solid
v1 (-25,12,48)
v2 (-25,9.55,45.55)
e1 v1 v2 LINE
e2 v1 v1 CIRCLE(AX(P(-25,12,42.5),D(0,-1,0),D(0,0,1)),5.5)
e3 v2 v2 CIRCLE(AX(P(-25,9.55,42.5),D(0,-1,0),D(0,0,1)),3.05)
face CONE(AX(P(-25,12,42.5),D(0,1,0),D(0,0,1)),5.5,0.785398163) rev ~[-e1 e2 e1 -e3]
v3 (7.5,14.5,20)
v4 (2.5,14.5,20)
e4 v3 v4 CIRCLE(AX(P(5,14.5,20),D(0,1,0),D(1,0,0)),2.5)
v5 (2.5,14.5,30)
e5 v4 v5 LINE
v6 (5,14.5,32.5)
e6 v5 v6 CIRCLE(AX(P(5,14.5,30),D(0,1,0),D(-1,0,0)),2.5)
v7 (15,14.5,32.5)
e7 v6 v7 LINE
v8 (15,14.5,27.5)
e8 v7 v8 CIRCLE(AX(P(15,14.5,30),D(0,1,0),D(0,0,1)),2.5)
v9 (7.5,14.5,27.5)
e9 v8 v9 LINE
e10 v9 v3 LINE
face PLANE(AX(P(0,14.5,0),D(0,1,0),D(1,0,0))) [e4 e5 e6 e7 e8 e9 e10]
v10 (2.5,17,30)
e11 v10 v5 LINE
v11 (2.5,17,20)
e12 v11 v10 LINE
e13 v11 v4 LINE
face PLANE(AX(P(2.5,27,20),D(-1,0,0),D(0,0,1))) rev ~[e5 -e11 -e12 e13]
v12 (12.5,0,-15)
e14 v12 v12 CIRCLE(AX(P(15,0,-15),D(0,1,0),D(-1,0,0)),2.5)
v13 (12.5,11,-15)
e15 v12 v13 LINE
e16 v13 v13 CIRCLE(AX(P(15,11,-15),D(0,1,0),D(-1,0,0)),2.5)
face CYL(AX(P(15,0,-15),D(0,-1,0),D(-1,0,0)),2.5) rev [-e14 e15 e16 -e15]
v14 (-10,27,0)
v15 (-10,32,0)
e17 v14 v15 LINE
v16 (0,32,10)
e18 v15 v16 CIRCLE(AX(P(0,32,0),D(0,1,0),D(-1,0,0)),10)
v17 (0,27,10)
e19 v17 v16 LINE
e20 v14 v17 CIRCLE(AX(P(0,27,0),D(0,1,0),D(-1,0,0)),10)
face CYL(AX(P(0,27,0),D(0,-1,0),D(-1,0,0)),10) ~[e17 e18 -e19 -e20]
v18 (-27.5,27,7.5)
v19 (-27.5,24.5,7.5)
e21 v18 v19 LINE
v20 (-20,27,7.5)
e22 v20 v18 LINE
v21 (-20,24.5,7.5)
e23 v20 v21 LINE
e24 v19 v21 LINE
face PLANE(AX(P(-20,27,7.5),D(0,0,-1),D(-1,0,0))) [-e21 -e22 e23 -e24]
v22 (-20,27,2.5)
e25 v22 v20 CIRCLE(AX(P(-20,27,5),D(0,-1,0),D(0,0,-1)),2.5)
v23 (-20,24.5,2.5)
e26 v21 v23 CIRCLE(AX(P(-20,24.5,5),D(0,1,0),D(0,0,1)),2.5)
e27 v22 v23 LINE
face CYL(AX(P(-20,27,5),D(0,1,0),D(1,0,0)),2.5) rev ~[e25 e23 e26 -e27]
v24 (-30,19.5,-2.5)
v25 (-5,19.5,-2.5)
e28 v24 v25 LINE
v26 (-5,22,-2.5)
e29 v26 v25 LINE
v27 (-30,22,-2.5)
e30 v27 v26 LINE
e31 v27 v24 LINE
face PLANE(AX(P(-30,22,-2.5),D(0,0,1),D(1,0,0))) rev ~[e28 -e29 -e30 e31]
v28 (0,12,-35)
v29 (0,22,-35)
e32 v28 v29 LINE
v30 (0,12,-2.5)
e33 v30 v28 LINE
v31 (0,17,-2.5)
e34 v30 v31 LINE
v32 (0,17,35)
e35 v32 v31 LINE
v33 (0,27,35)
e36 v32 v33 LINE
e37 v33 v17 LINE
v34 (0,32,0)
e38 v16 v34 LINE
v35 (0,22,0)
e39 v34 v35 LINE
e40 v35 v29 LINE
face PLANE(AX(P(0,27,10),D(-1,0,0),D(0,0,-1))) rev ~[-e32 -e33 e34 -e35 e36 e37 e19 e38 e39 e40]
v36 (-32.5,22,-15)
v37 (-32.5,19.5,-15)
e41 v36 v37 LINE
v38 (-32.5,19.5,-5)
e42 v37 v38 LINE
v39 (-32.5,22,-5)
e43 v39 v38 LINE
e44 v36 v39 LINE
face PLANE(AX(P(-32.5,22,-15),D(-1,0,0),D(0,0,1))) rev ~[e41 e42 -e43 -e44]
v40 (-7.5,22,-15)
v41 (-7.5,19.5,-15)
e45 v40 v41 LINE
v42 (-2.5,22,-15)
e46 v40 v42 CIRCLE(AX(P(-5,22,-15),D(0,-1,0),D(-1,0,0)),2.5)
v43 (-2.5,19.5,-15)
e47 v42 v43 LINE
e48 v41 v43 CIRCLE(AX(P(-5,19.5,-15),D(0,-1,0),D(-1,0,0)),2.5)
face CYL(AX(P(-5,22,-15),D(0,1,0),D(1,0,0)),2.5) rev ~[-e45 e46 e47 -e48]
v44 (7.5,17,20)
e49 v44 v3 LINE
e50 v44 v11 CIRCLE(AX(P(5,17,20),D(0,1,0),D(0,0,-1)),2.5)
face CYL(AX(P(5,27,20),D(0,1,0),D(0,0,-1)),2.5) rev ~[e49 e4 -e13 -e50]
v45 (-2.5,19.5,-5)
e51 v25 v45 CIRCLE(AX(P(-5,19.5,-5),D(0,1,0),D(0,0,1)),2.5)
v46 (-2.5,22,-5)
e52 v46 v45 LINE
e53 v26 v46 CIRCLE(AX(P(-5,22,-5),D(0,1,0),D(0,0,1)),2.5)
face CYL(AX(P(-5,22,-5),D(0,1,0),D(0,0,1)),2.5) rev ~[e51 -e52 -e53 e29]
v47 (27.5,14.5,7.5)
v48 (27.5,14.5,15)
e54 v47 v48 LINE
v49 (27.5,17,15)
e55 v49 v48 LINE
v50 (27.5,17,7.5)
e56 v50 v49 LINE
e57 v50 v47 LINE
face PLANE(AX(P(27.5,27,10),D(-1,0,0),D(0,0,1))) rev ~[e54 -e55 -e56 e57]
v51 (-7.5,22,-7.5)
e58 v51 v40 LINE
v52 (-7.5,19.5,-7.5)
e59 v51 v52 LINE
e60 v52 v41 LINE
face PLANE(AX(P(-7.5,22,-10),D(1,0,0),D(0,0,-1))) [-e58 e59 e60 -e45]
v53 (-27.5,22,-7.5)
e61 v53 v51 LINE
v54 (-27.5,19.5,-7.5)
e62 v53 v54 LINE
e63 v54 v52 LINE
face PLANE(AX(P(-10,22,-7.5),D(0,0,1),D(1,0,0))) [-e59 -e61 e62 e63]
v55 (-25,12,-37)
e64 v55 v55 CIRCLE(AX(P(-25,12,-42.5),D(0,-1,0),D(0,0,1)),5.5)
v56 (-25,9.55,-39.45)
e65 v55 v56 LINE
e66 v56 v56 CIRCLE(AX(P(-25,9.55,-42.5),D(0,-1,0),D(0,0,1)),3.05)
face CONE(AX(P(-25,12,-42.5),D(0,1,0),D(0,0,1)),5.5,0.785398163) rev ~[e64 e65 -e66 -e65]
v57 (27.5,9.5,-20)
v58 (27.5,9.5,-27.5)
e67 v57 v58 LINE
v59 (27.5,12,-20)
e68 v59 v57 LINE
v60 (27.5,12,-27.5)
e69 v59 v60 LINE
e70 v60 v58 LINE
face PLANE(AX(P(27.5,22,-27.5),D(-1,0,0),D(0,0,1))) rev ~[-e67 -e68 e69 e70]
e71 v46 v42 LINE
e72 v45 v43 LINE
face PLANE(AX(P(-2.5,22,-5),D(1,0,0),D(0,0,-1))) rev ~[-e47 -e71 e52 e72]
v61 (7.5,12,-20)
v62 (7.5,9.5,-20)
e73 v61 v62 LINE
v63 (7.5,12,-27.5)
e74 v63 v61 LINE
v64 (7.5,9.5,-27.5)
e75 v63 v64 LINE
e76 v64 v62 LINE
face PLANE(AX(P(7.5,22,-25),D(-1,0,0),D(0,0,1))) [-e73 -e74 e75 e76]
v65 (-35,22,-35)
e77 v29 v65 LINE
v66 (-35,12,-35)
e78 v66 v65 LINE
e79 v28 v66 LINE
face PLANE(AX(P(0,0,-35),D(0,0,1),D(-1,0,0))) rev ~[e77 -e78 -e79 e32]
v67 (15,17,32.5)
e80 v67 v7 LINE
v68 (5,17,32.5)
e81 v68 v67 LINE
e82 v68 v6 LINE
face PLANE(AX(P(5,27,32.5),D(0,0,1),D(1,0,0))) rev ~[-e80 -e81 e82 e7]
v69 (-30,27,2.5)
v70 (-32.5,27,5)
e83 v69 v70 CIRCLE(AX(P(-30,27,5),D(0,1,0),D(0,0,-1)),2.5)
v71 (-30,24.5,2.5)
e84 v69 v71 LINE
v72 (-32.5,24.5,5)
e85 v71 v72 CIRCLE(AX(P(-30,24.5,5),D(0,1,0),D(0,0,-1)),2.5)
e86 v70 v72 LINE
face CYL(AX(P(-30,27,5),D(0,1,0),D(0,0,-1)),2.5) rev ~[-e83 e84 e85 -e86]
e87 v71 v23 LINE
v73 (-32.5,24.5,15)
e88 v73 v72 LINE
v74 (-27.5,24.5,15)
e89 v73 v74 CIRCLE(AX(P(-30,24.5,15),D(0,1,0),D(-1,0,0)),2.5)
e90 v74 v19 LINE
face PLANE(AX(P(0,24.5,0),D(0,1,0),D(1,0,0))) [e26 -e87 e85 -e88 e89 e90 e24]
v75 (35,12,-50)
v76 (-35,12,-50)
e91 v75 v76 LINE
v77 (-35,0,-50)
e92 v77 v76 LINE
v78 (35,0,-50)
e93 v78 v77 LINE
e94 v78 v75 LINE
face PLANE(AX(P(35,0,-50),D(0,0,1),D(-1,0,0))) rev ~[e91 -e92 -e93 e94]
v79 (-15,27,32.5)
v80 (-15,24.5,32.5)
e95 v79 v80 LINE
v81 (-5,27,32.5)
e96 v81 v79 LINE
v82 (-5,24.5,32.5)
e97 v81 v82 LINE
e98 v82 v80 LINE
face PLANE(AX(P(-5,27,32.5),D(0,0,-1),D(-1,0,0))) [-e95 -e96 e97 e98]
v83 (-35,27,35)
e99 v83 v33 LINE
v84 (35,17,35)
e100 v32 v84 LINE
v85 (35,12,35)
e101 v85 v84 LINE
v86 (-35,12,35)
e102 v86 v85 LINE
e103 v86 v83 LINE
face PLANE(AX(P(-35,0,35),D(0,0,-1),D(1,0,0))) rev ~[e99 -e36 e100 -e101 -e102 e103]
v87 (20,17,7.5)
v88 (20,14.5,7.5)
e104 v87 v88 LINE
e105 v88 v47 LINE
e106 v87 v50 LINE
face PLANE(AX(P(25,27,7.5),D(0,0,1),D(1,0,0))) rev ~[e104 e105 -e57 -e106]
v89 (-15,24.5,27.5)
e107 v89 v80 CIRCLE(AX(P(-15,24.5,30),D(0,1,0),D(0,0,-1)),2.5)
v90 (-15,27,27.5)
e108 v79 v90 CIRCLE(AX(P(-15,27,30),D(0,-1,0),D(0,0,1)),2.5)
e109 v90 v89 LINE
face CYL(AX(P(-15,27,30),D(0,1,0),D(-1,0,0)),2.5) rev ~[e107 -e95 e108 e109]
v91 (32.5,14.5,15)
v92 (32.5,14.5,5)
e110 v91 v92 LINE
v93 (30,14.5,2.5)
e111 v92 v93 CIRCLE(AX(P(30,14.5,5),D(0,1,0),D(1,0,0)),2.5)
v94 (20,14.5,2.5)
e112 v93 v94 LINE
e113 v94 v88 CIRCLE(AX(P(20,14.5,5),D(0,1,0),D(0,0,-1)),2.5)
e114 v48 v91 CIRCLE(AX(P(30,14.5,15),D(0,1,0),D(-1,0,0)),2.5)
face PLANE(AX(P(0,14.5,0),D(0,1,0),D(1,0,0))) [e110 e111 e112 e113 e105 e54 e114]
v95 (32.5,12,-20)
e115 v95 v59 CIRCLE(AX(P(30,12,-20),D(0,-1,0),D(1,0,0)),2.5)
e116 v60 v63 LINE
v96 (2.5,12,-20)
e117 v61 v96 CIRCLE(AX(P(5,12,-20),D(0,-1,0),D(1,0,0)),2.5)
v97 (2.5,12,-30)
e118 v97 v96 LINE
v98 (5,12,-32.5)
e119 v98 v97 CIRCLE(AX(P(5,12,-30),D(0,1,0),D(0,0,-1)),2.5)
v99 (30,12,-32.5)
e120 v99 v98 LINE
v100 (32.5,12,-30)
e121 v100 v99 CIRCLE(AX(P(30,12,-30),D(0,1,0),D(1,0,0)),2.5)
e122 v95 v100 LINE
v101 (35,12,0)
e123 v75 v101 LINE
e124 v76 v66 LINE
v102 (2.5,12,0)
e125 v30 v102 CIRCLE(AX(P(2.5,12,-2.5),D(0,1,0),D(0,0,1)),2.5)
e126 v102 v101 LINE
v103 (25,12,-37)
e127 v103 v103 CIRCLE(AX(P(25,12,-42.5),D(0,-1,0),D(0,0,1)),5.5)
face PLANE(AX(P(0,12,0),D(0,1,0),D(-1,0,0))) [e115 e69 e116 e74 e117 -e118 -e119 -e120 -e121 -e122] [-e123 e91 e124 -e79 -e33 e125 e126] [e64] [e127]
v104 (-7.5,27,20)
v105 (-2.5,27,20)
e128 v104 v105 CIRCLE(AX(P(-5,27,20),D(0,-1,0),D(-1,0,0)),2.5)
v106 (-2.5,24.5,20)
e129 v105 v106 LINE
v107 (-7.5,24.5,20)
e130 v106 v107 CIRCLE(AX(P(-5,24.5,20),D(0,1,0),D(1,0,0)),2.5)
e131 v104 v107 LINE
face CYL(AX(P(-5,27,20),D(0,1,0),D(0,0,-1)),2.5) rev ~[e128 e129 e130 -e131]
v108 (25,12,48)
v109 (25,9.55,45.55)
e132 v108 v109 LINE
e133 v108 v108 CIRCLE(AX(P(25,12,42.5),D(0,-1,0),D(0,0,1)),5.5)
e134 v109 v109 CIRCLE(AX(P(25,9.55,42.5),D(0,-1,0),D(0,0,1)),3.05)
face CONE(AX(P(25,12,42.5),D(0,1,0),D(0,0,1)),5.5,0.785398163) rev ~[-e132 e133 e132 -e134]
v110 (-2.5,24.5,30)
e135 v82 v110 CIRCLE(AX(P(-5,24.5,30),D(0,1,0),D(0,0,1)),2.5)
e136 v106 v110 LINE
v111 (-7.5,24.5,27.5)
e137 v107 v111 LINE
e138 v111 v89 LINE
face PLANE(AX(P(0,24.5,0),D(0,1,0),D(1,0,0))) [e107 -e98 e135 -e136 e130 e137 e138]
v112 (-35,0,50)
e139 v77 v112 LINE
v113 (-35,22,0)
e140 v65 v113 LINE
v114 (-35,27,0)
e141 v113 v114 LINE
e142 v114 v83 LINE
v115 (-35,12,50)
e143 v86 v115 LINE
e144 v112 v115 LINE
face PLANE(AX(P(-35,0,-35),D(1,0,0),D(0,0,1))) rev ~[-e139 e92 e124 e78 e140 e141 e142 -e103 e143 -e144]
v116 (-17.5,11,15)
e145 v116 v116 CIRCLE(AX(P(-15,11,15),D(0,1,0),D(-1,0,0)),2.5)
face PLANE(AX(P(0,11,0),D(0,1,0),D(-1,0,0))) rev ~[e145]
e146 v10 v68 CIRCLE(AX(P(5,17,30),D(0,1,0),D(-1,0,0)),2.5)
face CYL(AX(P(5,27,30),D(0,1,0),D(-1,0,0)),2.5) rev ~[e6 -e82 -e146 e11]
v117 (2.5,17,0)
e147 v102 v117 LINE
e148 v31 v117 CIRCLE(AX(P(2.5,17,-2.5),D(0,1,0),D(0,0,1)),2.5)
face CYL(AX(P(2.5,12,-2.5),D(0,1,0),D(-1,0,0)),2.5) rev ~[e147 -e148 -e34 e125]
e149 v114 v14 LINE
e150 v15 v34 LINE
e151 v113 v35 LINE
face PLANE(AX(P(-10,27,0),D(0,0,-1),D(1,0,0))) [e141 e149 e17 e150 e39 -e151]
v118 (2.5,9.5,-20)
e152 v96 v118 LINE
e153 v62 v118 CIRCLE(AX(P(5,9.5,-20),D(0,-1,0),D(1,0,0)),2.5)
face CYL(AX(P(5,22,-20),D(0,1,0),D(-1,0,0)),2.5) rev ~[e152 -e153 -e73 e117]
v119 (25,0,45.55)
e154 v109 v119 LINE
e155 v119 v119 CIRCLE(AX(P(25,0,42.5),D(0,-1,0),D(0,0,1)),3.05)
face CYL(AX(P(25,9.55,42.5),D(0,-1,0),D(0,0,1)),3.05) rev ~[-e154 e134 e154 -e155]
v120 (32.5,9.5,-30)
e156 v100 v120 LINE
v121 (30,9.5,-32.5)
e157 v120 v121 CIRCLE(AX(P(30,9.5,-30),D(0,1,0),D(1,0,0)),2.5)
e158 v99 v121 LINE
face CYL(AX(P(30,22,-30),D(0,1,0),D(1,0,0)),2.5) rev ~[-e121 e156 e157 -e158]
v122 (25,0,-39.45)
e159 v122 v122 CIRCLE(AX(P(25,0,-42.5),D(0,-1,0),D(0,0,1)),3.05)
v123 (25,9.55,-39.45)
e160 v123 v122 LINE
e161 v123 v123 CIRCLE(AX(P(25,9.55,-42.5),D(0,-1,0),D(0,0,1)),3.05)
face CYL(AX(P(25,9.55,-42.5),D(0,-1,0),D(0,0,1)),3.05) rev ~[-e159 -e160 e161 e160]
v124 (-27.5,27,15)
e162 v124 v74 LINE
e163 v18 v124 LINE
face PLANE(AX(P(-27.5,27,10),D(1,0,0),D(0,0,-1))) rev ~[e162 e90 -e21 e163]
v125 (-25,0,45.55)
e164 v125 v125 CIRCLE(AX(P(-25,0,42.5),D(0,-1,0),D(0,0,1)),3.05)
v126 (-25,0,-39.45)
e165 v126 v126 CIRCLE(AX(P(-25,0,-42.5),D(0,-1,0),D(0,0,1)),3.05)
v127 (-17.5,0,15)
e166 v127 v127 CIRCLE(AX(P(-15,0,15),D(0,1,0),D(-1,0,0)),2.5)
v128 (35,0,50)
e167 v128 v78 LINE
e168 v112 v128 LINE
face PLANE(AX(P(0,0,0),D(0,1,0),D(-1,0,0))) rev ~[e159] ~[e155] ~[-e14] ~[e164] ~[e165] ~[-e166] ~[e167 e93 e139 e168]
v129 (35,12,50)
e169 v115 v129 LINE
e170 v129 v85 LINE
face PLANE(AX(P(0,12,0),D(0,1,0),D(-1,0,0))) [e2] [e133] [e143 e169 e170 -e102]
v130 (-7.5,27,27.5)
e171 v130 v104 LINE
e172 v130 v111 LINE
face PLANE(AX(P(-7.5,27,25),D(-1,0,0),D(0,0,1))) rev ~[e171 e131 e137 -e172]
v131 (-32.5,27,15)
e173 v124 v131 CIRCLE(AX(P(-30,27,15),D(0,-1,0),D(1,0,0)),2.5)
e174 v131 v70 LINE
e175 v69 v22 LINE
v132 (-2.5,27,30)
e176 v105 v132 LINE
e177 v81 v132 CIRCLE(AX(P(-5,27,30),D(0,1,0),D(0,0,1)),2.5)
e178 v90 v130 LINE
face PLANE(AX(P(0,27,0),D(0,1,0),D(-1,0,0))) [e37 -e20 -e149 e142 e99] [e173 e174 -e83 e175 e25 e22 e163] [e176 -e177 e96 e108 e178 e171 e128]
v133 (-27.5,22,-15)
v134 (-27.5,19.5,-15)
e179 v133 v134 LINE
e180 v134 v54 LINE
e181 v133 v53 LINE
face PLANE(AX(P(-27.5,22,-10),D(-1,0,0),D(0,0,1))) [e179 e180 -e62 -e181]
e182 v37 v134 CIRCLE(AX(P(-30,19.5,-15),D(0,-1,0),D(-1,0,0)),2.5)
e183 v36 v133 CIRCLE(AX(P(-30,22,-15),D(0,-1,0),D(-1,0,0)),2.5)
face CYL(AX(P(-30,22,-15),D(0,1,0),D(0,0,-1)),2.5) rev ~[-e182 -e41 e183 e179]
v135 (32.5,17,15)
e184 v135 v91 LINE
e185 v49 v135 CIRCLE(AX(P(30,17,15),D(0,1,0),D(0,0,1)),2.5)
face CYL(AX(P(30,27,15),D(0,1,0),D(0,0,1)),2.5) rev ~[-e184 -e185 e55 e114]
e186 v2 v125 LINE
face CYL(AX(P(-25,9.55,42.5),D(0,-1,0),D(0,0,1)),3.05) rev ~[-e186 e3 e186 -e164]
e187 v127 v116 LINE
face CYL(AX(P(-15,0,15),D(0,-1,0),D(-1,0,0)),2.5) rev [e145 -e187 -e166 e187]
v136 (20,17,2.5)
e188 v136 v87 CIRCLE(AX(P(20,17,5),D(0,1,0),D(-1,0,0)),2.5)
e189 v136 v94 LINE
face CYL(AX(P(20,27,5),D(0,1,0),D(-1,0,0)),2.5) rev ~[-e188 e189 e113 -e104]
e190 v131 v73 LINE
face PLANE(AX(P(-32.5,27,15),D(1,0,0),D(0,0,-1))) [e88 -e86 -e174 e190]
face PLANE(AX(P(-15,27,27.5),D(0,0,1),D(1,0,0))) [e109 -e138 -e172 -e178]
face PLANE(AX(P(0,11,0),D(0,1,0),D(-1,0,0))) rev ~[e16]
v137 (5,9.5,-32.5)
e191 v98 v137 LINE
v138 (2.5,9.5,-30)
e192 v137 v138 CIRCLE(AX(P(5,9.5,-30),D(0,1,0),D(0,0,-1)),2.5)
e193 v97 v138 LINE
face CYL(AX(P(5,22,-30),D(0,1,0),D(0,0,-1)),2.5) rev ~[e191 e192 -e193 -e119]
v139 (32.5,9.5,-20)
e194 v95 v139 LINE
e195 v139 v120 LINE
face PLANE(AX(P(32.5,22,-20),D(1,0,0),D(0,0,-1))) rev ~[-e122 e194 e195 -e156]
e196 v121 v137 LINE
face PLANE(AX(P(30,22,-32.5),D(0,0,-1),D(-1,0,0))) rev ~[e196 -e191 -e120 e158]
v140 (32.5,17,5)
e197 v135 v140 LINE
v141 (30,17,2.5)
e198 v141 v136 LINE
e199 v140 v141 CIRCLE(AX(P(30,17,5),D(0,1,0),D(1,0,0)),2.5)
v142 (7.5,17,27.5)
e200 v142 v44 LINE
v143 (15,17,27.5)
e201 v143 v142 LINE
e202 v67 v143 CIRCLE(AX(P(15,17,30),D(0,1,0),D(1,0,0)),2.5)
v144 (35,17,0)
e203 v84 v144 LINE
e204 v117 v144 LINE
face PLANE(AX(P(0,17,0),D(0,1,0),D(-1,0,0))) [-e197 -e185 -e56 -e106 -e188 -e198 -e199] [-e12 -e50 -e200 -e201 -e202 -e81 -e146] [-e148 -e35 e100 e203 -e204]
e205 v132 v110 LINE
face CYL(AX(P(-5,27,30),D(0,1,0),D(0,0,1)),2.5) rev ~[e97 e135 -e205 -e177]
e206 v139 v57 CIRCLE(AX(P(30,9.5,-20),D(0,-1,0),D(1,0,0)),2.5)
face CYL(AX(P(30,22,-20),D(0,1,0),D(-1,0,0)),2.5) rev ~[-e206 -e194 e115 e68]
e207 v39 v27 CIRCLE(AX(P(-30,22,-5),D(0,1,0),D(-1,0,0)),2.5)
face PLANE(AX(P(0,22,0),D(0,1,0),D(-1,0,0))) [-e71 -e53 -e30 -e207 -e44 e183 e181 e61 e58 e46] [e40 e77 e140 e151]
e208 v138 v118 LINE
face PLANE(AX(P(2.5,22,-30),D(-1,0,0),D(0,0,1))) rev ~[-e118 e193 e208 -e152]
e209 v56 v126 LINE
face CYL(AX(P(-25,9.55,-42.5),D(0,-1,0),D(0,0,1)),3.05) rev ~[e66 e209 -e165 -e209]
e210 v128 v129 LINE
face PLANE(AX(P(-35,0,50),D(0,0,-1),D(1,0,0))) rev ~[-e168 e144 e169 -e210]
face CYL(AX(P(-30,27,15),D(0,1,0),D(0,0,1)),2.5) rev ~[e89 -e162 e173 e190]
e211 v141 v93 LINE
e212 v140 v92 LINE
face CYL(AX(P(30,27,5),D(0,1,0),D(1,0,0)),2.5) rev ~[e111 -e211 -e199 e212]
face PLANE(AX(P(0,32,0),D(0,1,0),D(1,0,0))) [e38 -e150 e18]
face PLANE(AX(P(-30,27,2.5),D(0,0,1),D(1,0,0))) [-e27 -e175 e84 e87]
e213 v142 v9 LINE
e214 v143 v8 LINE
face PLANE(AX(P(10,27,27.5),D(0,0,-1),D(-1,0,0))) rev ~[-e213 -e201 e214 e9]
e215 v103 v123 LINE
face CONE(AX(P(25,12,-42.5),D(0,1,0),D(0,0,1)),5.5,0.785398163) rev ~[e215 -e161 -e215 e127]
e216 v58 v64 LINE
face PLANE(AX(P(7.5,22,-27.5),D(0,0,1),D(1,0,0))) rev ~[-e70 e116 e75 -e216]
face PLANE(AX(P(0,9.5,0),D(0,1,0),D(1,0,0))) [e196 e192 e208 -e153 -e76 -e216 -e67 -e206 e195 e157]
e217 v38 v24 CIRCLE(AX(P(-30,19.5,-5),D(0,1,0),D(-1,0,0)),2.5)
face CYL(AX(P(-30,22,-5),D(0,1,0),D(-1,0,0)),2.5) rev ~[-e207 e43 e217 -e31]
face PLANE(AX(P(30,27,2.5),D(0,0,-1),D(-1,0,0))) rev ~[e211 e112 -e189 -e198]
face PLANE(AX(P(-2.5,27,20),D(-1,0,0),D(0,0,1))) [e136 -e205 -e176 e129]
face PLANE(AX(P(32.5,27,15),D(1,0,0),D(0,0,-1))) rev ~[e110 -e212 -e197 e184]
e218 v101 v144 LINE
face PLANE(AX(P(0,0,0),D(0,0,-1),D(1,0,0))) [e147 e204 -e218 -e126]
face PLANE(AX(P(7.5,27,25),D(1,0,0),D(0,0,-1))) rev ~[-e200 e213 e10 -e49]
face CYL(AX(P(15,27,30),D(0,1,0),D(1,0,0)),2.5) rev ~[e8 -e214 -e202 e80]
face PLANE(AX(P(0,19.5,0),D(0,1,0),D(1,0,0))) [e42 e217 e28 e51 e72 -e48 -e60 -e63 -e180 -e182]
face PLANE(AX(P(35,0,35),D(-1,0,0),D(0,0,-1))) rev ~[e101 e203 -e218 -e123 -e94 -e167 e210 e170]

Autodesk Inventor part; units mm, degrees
ref_plane "YZ Plane" through (0, 0, 0) normal (1, 0, 0) x (0, 1, 0)
ref_plane "XZ Plane" through (0, 0, 0) normal (0, 1, 0) x (-1, 0, 0)
ref_plane "XY Plane" through (0, 0, 0) normal (0, 0, 1) x (1, 0, 0)
sketch "Sketch1" plane through (0, 0, 0) normal (0, 1, 0) x (-1, 0, 0)
  line L0 (35, 50) -> (-35, 50)
  line L1 (-35, 50) -> (-35, -50)
  line L2 (-35, -50) -> (35, -50)
  line L3 (35, -50) -> (35, 50)
  line L4 (35, 50) -> (-35, -50) construction
  line L5 (-35, 50) -> (35, -50) construction
  line L6 (35, 35) -> (-35, 35)
  line L7 (-35, 35) -> (-35, -35)
  line L8 (-35, -35) -> (35, -35)
  line L9 (35, -35) -> (35, 35)
  line L10 (35, 35) -> (-35, -35) construction
  line L11 (-35, 35) -> (35, -35) construction
  line L12 (0, 35) -> (0, -35)
  line L13 (35, 0) -> (-35, 0)
  line L14 (0, 0) -> (0, 15) construction
  line L15 (0, 15) -> (15, 15) construction
  line L16 (0, 0) -> (0, -15) construction
  line L17 (0, -15) -> (-15, -15) construction
  circle A0 centre (15, 15) radius 2.5
  circle A1 centre (-15, -15) radius 2.5
  dimension "d0" = 70
  dimension "d1" = 100
  dimension "d2" = 70
  dimension "d3" = 70
  dimension "d46" = 15
  dimension "d47" = 15
  dimension "d48" = 15
  dimension "d49" = 5
  dimension "d50" = 5
extrude "Extrusion1" add sketch "Sketch1" along normal blind 12 contours L3 L6 L1 L0 | L13 L12 L8 L1 | L3 L2 L1 L8 | A1
extrude "Extrusion2" add sketch "Sketch1" along normal blind 17 contours L6 L12 L13 L1
extrude "Extrusion3" add sketch "Sketch1" along normal blind 22 contours L3 L8 L12 L13
extrude "Extrusion4" add sketch "Sketch1" along normal blind 27 contours L3 L13 L12 L6 | A0
sketch "Sketch2" plane through (0, 27, 0) normal (0, 1, 0) x (1, 0, 0)
  line L0 (35, -35) -> (-35, -35) construction
  line L1 (35, 0) -> (0, 0) construction
  line L2 (-35, -35) -> (0, -35) construction
  line L3 (0, -35) -> (0, 0) construction
  line L4 (0, 0) -> (-35, 0) construction
  line L5 (-35, 0) -> (-35, -35) construction
  line L6 (0, -35) -> (-35, 0) construction
  line L7 (0, 0) -> (-35, -35) construction
  line L8 (-5, -32.5) -> (-15, -32.5)
  line L9 (-32.5, -15) -> (-32.5, -5)
  line L10 (-30, -2.5) -> (-20, -2.5)
  line L11 (-2.5, -20) -> (-2.5, -30)
  line L12 (-2.5, -32.5) -> (-32.5, -2.5) construction
  line L13 (-32.5, -32.5) -> (-2.5, -2.5) construction
  line L14 (-15, -27.5) -> (-10, -27.5)
  line L15 (-7.5, -25) -> (-7.5, -20)
  line L16 (-20, -7.5) -> (-25, -7.5)
  line L17 (-27.5, -10) -> (-27.5, -15)
  line L18 (-27.5, -27.5) -> (-7.5, -7.5) construction
  line L19 (-7.5, -27.5) -> (-27.5, -7.5) construction
  line L20 (-5, -17.5) -> (-5, -17.5)
  line L21 (-17.5, -30) -> (-17.5, -30)
  line L22 (-30, -17.5) -> (-30, -17.5)
  line L23 (-17.5, -5) -> (-17.5, -5)
  arc A0 (-17.5, -30) -> (-15, -32.5) centre (-15, -30) ccw
  arc A1 (-15, -27.5) -> (-17.5, -30) centre (-15, -30) ccw
  arc A2 (-5, -17.5) -> (-7.5, -20) centre (-5, -20) ccw
  arc A3 (-2.5, -20) -> (-5, -17.5) centre (-5, -20) ccw
  arc A4 (-5, -32.5) -> (-2.5, -30) centre (-5, -30) ccw
  arc A5 (-32.5, -15) -> (-30, -17.5) centre (-30, -15) ccw
  arc A6 (-30, -17.5) -> (-27.5, -15) centre (-30, -15) ccw
  arc A7 (-20, -7.5) -> (-17.5, -5) centre (-20, -5) ccw
  arc A8 (-17.5, -5) -> (-20, -2.5) centre (-20, -5) ccw
  arc A9 (-30, -2.5) -> (-32.5, -5) centre (-30, -5) ccw
  line L24 (5, -32.5) -> (15, -32.5)
  line L25 (32.5, -15) -> (32.5, -5)
  line L26 (30, -2.5) -> (20, -2.5)
  line L27 (2.5, -20) -> (2.5, -30)
  line L28 (15, -27.5) -> (10, -27.5)
  line L29 (7.5, -25) -> (7.5, -20)
  line L30 (20, -7.5) -> (25, -7.5)
  line L31 (27.5, -10) -> (27.5, -15)
  arc A10 (15, -32.5) -> (17.5, -30) centre (15, -30) ccw
  arc A11 (17.5, -30) -> (15, -27.5) centre (15, -30) ccw
  arc A12 (7.5, -20) -> (5, -17.5) centre (5, -20) ccw
  arc A13 (5, -17.5) -> (2.5, -20) centre (5, -20) ccw
  arc A14 (2.5, -30) -> (5, -32.5) centre (5, -30) ccw
  arc A15 (30, -17.5) -> (32.5, -15) centre (30, -15) ccw
  arc A16 (27.5, -15) -> (30, -17.5) centre (30, -15) ccw
  arc A17 (17.5, -5) -> (20, -7.5) centre (20, -5) ccw
  arc A18 (20, -2.5) -> (17.5, -5) centre (20, -5) ccw
  arc A19 (32.5, -5) -> (30, -2.5) centre (30, -5) ccw
  line L32 (7.5, 25) -> (7.5, 20)
  arc A20 (10, 27.5) -> (7.5, 25) centre (10, 25) ccw
  line L33 (15, 27.5) -> (10, 27.5)
  arc A21 (15, 27.5) -> (17.5, 30) centre (15, 30) ccw
  arc A22 (17.5, 30) -> (15, 32.5) centre (15, 30) ccw
  line L34 (5, 32.5) -> (15, 32.5)
  arc A23 (5, 32.5) -> (2.5, 30) centre (5, 30) ccw
  line L35 (2.5, 20) -> (2.5, 30)
  arc A24 (2.5, 20) -> (5, 17.5) centre (5, 20) ccw
  arc A25 (5, 17.5) -> (7.5, 20) centre (5, 20) ccw
  line L36 (-32.5, 15) -> (-32.5, 5)
  line L37 (-30, 2.5) -> (-20, 2.5)
  line L38 (-20, 7.5) -> (-25, 7.5)
  line L39 (-27.5, 10) -> (-27.5, 15)
  arc A26 (-30, 17.5) -> (-32.5, 15) centre (-30, 15) ccw
  arc A27 (-27.5, 15) -> (-30, 17.5) centre (-30, 15) ccw
  arc A28 (-27.5, 10) -> (-25, 7.5) centre (-25, 10) ccw
  arc A29 (-17.5, 5) -> (-20, 7.5) centre (-20, 5) ccw
  arc A30 (-20, 2.5) -> (-17.5, 5) centre (-20, 5) ccw
  arc A31 (-32.5, 5) -> (-30, 2.5) centre (-30, 5) ccw
  line L40 (-35, 50) -> (-35, 35) construction
  line L41 (35, -35) -> (35, 0) construction
  line L42 (-35, 35) -> (35, -35) construction
  line L43 (-10, -27.5) -> (-7.5, -27.5)
  line L44 (-7.5, -25) -> (-7.5, -27.5)
  line L45 (-27.5, -10) -> (-27.5, -7.5)
  line L46 (-27.5, -7.5) -> (-25, -7.5)
  line L47 (10, -27.5) -> (7.5, -27.5)
  line L48 (7.5, -27.5) -> (7.5, -25)
  line L49 (25, -7.5) -> (27.5, -7.5)
  line L50 (27.5, -7.5) -> (27.5, -10)
  point P0 (-17.5, -17.5)
  point P1 (-17.5, -17.5)
  point P2 (-7.5, -17.5)
  point P3 (-17.5, -27.5)
  point P4 (-17.5, -32.5)
  dimension "d12" = 30
  dimension "d13" = 30
  dimension "d16" = 15
  dimension "d17" = 5
  dimension "d18" = 10
  dimension "d19" = 10
  dimension "d20" = 2.5
fillet "Fillet1" radius 2.5 1 edges at (0, 14.5, 0)
extrude "Extrusion5" cut sketch "Sketch2" against normal blind 2.5 contours L8 A0 A1 L14 L43 L44 L15 A2 A3 L11 A4 | L9 A9 L10 A8 A7 L16 L46 L45 L17 A6 A5
extrude "Extrusion6" cut sketch "Sketch2" against normal blind 12.5 contours A14 L27 A13 A12 L29 L48 L47 L28 A11 A10 L24 | A15 A16 L31 L50 L49 L30 A17 A18 L26 A19 L25
sketch "Sketch3" plane through (0, 22, 0) normal (0, 1, 0) x (1, 0, 0)
  line L0 (0, 0) -> (0, 35) construction
  line L1 (-35, 50) -> (-35, -50) construction
  line L2 (0, 35) -> (-35, 35) construction
  line L3 (-35, 35) -> (-35, 0) construction
  line L4 (-35, 0) -> (0, 0) construction
  line L5 (0, 0) -> (0, 35) construction
  line L6 (-35, 35) -> (0, 0) construction
  line L7 (0, 35) -> (-35, 0) construction
  line L8 (-32.5, 15) -> (-32.5, 5)
  line L9 (-30, 2.5) -> (-5, 2.5)
  line L10 (-2.5, 5) -> (-2.5, 15)
  line L11 (-2.5, 32.5) -> (-32.5, 2.5) construction
  line L12 (-32.5, 32.5) -> (-2.5, 2.5) construction
  line L13 (-25, 7.5) -> (-10, 7.5)
  line L14 (-7.5, 10) -> (-7.5, 15)
  line L15 (-27.5, 15) -> (-27.5, 10)
  line L16 (-27.5, 7.5) -> (-7.5, 27.5) construction
  line L17 (-7.5, 7.5) -> (-27.5, 27.5) construction
  line L18 (-30, 17.5) -> (-30, 17.5)
  line L19 (-5, 17.5) -> (-5, 17.5)
  arc A0 (-30, 17.5) -> (-32.5, 15) centre (-30, 15) ccw
  arc A1 (-27.5, 15) -> (-30, 17.5) centre (-30, 15) ccw
  arc A2 (-5, 17.5) -> (-7.5, 15) centre (-5, 15) ccw
  arc A3 (-2.5, 15) -> (-5, 17.5) centre (-5, 15) ccw
  arc A4 (-5, 2.5) -> (-2.5, 5) centre (-5, 5) ccw
  arc A5 (-32.5, 5) -> (-30, 2.5) centre (-30, 5) ccw
  line L20 (35, 35) -> (0, 0) construction
  line L21 (0, 35) -> (35, 0) construction
  line L22 (32.5, 15) -> (32.5, 5)
  line L23 (30, 2.5) -> (5, 2.5)
  line L24 (2.5, 5) -> (2.5, 15)
  line L25 (2.5, 32.5) -> (32.5, 2.5) construction
  line L26 (32.5, 32.5) -> (2.5, 2.5) construction
  line L27 (25, 7.5) -> (10, 7.5)
  line L28 (7.5, 10) -> (7.5, 15)
  line L29 (27.5, 15) -> (27.5, 10)
  line L30 (27.5, 7.5) -> (7.5, 27.5) construction
  line L31 (7.5, 7.5) -> (27.5, 27.5) construction
  line L32 (30, 17.5) -> (30, 17.5)
  line L33 (5, 17.5) -> (5, 17.5)
  arc A6 (32.5, 15) -> (30, 17.5) centre (30, 15) ccw
  arc A7 (30, 17.5) -> (27.5, 15) centre (30, 15) ccw
  arc A8 (7.5, 15) -> (5, 17.5) centre (5, 15) ccw
  arc A9 (5, 17.5) -> (2.5, 15) centre (5, 15) ccw
  arc A10 (2.5, 5) -> (5, 2.5) centre (5, 5) ccw
  arc A11 (30, 2.5) -> (32.5, 5) centre (30, 5) ccw
  arc A12 (25, 7.5) -> (27.5, 10) centre (25, 10) ccw
  arc A13 (7.5, 10) -> (10, 7.5) centre (10, 10) ccw
  line L34 (0, 17.5) -> (35, 17.5) construction
  line L35 (35, 0) -> (35, 50) construction
  line L36 (2.5, 30) -> (2.5, 20)
  line L37 (27.5, 20) -> (27.5, 25)
  line L38 (35, 0) -> (0, 35) construction
  line L39 (25, 27.5) -> (10, 27.5)
  line L40 (30, 32.5) -> (5, 32.5)
  arc A14 (32.5, 30) -> (30, 32.5) centre (30, 30) ccw
  line L41 (32.5, 20) -> (32.5, 30)
  arc A15 (27.5, 20) -> (30, 17.5) centre (30, 20) ccw
  arc A16 (30, 17.5) -> (32.5, 20) centre (30, 20) ccw
  line L42 (7.5, 25) -> (7.5, 20)
  arc A17 (5, 32.5) -> (2.5, 30) centre (5, 30) ccw
  arc A18 (5, 17.5) -> (7.5, 20) centre (5, 20) ccw
  arc A19 (2.5, 20) -> (5, 17.5) centre (5, 20) ccw
  line L43 (-27.5, 10) -> (-27.5, 7.5)
  line L44 (-27.5, 7.5) -> (-25, 7.5)
  line L45 (-10, 7.5) -> (-7.5, 7.5)
  line L46 (-7.5, 7.5) -> (-7.5, 10)
  line L47 (7.5, 25) -> (7.5, 27.5)
  line L48 (7.5, 27.5) -> (10, 27.5)
  line L49 (25, 27.5) -> (27.5, 27.5)
  line L50 (27.5, 27.5) -> (27.5, 25)
  point P0 (-17.5, 17.5)
  point P1 (17.5, 17.5)
  dimension "d26" = 30
  dimension "d30" = 2.5
extrude "Extrusion7" cut sketch "Sketch3" against normal blind 2.5 contours A0 A1 L15 L43 L44 L13 L45 L46 L14 A2 A3 L10 A4 L9 A5 L8
extrude "Extrusion8" cut sketch "Sketch3" against normal blind 12.5 contours A15 L37 L50 L49 L39 L48 L47 L42 A18 A19 L36 A17 L40 A14 L41 A16
sketch "Sketch5" plane through (0, 12, 0) normal (0, 1, 0) x (1, 0, 0)
  line L0 (-35, -50) -> (35, -50) construction
  line L1 (-35, -50) -> (-35, -42.5) construction
  line L2 (-35, 50) -> (-35, -50) construction
  line L3 (-35, -42.5) -> (34.9391, -42.5) construction
  line L4 (-35, 50) -> (-35, 35) construction
  line L5 (-35, 42.5) -> (35, 42.5) construction
  line L6 (35, 0) -> (35, 50) construction
  line L7 (0, 42.5) -> (-25, 42.5) construction
  line L8 (-25, 42.5) -> (25, 42.5) construction
  line L9 (25, 42.5) -> (25, -42.5) construction
  line L10 (25, -42.5) -> (-25, -42.5) construction
  point P0 (0, 0)
  dimension "d35" = 7.5
  dimension "d36" = 25
  dimension "d37" = 50
  dimension "d38" = 50
hole "Hole1" at (-25, 12, 42.5) at (-25, 12, -42.5) at (25, 12, -42.5) at (25, 12, 42.5) direction (0, -1, 0) diameter 6.1 end through all countersink diameter 11 countersink angle 90 clearance for "Countersunk Flat Head Screw ISO 2009/7046" size "M6" standard "ISO"
sketch "Sketch6" plane through (0, 27, 0) normal (0, 1, 0) x (1, 0, 0)
  line L0 (-35, 0) -> (0, 0) projected
  arc A0 (-10, 0) -> (0, -10) centre (0, 0) ccw
  line L1 (0, -10) -> (0, 0)
  line L2 (-10, 0) -> (0, 0)
  dimension "d54" = 10
extrude "Extrusion10" add sketch "Sketch6" along normal blind 5
sketch "Sketch7" plane through (0, 0, 0) normal (0, -1, 0) x (1, 0, 0)
  circle A0 centre (25, -42.5) radius 3.05 construction
  line L0 (-25, 42.5) -> (25, 42.5) construction
  line L1 (25, 42.5) -> (25, -42.5) construction
  line L2 (25, -42.5) -> (-25, -42.5) construction
  line L3 (-25, -42.5) -> (-25, 42.5) construction
  line L4 (-25, 42.5) -> (25, -42.5) construction
  line L5 (25, 42.5) -> (-25, -42.5) construction
  point P0 (0, 0)
extrude "Extrusion11" cut sketch "Sketch1" along normal blind 11 contours A0 | A1
properties part number "SmallTool20mm"
